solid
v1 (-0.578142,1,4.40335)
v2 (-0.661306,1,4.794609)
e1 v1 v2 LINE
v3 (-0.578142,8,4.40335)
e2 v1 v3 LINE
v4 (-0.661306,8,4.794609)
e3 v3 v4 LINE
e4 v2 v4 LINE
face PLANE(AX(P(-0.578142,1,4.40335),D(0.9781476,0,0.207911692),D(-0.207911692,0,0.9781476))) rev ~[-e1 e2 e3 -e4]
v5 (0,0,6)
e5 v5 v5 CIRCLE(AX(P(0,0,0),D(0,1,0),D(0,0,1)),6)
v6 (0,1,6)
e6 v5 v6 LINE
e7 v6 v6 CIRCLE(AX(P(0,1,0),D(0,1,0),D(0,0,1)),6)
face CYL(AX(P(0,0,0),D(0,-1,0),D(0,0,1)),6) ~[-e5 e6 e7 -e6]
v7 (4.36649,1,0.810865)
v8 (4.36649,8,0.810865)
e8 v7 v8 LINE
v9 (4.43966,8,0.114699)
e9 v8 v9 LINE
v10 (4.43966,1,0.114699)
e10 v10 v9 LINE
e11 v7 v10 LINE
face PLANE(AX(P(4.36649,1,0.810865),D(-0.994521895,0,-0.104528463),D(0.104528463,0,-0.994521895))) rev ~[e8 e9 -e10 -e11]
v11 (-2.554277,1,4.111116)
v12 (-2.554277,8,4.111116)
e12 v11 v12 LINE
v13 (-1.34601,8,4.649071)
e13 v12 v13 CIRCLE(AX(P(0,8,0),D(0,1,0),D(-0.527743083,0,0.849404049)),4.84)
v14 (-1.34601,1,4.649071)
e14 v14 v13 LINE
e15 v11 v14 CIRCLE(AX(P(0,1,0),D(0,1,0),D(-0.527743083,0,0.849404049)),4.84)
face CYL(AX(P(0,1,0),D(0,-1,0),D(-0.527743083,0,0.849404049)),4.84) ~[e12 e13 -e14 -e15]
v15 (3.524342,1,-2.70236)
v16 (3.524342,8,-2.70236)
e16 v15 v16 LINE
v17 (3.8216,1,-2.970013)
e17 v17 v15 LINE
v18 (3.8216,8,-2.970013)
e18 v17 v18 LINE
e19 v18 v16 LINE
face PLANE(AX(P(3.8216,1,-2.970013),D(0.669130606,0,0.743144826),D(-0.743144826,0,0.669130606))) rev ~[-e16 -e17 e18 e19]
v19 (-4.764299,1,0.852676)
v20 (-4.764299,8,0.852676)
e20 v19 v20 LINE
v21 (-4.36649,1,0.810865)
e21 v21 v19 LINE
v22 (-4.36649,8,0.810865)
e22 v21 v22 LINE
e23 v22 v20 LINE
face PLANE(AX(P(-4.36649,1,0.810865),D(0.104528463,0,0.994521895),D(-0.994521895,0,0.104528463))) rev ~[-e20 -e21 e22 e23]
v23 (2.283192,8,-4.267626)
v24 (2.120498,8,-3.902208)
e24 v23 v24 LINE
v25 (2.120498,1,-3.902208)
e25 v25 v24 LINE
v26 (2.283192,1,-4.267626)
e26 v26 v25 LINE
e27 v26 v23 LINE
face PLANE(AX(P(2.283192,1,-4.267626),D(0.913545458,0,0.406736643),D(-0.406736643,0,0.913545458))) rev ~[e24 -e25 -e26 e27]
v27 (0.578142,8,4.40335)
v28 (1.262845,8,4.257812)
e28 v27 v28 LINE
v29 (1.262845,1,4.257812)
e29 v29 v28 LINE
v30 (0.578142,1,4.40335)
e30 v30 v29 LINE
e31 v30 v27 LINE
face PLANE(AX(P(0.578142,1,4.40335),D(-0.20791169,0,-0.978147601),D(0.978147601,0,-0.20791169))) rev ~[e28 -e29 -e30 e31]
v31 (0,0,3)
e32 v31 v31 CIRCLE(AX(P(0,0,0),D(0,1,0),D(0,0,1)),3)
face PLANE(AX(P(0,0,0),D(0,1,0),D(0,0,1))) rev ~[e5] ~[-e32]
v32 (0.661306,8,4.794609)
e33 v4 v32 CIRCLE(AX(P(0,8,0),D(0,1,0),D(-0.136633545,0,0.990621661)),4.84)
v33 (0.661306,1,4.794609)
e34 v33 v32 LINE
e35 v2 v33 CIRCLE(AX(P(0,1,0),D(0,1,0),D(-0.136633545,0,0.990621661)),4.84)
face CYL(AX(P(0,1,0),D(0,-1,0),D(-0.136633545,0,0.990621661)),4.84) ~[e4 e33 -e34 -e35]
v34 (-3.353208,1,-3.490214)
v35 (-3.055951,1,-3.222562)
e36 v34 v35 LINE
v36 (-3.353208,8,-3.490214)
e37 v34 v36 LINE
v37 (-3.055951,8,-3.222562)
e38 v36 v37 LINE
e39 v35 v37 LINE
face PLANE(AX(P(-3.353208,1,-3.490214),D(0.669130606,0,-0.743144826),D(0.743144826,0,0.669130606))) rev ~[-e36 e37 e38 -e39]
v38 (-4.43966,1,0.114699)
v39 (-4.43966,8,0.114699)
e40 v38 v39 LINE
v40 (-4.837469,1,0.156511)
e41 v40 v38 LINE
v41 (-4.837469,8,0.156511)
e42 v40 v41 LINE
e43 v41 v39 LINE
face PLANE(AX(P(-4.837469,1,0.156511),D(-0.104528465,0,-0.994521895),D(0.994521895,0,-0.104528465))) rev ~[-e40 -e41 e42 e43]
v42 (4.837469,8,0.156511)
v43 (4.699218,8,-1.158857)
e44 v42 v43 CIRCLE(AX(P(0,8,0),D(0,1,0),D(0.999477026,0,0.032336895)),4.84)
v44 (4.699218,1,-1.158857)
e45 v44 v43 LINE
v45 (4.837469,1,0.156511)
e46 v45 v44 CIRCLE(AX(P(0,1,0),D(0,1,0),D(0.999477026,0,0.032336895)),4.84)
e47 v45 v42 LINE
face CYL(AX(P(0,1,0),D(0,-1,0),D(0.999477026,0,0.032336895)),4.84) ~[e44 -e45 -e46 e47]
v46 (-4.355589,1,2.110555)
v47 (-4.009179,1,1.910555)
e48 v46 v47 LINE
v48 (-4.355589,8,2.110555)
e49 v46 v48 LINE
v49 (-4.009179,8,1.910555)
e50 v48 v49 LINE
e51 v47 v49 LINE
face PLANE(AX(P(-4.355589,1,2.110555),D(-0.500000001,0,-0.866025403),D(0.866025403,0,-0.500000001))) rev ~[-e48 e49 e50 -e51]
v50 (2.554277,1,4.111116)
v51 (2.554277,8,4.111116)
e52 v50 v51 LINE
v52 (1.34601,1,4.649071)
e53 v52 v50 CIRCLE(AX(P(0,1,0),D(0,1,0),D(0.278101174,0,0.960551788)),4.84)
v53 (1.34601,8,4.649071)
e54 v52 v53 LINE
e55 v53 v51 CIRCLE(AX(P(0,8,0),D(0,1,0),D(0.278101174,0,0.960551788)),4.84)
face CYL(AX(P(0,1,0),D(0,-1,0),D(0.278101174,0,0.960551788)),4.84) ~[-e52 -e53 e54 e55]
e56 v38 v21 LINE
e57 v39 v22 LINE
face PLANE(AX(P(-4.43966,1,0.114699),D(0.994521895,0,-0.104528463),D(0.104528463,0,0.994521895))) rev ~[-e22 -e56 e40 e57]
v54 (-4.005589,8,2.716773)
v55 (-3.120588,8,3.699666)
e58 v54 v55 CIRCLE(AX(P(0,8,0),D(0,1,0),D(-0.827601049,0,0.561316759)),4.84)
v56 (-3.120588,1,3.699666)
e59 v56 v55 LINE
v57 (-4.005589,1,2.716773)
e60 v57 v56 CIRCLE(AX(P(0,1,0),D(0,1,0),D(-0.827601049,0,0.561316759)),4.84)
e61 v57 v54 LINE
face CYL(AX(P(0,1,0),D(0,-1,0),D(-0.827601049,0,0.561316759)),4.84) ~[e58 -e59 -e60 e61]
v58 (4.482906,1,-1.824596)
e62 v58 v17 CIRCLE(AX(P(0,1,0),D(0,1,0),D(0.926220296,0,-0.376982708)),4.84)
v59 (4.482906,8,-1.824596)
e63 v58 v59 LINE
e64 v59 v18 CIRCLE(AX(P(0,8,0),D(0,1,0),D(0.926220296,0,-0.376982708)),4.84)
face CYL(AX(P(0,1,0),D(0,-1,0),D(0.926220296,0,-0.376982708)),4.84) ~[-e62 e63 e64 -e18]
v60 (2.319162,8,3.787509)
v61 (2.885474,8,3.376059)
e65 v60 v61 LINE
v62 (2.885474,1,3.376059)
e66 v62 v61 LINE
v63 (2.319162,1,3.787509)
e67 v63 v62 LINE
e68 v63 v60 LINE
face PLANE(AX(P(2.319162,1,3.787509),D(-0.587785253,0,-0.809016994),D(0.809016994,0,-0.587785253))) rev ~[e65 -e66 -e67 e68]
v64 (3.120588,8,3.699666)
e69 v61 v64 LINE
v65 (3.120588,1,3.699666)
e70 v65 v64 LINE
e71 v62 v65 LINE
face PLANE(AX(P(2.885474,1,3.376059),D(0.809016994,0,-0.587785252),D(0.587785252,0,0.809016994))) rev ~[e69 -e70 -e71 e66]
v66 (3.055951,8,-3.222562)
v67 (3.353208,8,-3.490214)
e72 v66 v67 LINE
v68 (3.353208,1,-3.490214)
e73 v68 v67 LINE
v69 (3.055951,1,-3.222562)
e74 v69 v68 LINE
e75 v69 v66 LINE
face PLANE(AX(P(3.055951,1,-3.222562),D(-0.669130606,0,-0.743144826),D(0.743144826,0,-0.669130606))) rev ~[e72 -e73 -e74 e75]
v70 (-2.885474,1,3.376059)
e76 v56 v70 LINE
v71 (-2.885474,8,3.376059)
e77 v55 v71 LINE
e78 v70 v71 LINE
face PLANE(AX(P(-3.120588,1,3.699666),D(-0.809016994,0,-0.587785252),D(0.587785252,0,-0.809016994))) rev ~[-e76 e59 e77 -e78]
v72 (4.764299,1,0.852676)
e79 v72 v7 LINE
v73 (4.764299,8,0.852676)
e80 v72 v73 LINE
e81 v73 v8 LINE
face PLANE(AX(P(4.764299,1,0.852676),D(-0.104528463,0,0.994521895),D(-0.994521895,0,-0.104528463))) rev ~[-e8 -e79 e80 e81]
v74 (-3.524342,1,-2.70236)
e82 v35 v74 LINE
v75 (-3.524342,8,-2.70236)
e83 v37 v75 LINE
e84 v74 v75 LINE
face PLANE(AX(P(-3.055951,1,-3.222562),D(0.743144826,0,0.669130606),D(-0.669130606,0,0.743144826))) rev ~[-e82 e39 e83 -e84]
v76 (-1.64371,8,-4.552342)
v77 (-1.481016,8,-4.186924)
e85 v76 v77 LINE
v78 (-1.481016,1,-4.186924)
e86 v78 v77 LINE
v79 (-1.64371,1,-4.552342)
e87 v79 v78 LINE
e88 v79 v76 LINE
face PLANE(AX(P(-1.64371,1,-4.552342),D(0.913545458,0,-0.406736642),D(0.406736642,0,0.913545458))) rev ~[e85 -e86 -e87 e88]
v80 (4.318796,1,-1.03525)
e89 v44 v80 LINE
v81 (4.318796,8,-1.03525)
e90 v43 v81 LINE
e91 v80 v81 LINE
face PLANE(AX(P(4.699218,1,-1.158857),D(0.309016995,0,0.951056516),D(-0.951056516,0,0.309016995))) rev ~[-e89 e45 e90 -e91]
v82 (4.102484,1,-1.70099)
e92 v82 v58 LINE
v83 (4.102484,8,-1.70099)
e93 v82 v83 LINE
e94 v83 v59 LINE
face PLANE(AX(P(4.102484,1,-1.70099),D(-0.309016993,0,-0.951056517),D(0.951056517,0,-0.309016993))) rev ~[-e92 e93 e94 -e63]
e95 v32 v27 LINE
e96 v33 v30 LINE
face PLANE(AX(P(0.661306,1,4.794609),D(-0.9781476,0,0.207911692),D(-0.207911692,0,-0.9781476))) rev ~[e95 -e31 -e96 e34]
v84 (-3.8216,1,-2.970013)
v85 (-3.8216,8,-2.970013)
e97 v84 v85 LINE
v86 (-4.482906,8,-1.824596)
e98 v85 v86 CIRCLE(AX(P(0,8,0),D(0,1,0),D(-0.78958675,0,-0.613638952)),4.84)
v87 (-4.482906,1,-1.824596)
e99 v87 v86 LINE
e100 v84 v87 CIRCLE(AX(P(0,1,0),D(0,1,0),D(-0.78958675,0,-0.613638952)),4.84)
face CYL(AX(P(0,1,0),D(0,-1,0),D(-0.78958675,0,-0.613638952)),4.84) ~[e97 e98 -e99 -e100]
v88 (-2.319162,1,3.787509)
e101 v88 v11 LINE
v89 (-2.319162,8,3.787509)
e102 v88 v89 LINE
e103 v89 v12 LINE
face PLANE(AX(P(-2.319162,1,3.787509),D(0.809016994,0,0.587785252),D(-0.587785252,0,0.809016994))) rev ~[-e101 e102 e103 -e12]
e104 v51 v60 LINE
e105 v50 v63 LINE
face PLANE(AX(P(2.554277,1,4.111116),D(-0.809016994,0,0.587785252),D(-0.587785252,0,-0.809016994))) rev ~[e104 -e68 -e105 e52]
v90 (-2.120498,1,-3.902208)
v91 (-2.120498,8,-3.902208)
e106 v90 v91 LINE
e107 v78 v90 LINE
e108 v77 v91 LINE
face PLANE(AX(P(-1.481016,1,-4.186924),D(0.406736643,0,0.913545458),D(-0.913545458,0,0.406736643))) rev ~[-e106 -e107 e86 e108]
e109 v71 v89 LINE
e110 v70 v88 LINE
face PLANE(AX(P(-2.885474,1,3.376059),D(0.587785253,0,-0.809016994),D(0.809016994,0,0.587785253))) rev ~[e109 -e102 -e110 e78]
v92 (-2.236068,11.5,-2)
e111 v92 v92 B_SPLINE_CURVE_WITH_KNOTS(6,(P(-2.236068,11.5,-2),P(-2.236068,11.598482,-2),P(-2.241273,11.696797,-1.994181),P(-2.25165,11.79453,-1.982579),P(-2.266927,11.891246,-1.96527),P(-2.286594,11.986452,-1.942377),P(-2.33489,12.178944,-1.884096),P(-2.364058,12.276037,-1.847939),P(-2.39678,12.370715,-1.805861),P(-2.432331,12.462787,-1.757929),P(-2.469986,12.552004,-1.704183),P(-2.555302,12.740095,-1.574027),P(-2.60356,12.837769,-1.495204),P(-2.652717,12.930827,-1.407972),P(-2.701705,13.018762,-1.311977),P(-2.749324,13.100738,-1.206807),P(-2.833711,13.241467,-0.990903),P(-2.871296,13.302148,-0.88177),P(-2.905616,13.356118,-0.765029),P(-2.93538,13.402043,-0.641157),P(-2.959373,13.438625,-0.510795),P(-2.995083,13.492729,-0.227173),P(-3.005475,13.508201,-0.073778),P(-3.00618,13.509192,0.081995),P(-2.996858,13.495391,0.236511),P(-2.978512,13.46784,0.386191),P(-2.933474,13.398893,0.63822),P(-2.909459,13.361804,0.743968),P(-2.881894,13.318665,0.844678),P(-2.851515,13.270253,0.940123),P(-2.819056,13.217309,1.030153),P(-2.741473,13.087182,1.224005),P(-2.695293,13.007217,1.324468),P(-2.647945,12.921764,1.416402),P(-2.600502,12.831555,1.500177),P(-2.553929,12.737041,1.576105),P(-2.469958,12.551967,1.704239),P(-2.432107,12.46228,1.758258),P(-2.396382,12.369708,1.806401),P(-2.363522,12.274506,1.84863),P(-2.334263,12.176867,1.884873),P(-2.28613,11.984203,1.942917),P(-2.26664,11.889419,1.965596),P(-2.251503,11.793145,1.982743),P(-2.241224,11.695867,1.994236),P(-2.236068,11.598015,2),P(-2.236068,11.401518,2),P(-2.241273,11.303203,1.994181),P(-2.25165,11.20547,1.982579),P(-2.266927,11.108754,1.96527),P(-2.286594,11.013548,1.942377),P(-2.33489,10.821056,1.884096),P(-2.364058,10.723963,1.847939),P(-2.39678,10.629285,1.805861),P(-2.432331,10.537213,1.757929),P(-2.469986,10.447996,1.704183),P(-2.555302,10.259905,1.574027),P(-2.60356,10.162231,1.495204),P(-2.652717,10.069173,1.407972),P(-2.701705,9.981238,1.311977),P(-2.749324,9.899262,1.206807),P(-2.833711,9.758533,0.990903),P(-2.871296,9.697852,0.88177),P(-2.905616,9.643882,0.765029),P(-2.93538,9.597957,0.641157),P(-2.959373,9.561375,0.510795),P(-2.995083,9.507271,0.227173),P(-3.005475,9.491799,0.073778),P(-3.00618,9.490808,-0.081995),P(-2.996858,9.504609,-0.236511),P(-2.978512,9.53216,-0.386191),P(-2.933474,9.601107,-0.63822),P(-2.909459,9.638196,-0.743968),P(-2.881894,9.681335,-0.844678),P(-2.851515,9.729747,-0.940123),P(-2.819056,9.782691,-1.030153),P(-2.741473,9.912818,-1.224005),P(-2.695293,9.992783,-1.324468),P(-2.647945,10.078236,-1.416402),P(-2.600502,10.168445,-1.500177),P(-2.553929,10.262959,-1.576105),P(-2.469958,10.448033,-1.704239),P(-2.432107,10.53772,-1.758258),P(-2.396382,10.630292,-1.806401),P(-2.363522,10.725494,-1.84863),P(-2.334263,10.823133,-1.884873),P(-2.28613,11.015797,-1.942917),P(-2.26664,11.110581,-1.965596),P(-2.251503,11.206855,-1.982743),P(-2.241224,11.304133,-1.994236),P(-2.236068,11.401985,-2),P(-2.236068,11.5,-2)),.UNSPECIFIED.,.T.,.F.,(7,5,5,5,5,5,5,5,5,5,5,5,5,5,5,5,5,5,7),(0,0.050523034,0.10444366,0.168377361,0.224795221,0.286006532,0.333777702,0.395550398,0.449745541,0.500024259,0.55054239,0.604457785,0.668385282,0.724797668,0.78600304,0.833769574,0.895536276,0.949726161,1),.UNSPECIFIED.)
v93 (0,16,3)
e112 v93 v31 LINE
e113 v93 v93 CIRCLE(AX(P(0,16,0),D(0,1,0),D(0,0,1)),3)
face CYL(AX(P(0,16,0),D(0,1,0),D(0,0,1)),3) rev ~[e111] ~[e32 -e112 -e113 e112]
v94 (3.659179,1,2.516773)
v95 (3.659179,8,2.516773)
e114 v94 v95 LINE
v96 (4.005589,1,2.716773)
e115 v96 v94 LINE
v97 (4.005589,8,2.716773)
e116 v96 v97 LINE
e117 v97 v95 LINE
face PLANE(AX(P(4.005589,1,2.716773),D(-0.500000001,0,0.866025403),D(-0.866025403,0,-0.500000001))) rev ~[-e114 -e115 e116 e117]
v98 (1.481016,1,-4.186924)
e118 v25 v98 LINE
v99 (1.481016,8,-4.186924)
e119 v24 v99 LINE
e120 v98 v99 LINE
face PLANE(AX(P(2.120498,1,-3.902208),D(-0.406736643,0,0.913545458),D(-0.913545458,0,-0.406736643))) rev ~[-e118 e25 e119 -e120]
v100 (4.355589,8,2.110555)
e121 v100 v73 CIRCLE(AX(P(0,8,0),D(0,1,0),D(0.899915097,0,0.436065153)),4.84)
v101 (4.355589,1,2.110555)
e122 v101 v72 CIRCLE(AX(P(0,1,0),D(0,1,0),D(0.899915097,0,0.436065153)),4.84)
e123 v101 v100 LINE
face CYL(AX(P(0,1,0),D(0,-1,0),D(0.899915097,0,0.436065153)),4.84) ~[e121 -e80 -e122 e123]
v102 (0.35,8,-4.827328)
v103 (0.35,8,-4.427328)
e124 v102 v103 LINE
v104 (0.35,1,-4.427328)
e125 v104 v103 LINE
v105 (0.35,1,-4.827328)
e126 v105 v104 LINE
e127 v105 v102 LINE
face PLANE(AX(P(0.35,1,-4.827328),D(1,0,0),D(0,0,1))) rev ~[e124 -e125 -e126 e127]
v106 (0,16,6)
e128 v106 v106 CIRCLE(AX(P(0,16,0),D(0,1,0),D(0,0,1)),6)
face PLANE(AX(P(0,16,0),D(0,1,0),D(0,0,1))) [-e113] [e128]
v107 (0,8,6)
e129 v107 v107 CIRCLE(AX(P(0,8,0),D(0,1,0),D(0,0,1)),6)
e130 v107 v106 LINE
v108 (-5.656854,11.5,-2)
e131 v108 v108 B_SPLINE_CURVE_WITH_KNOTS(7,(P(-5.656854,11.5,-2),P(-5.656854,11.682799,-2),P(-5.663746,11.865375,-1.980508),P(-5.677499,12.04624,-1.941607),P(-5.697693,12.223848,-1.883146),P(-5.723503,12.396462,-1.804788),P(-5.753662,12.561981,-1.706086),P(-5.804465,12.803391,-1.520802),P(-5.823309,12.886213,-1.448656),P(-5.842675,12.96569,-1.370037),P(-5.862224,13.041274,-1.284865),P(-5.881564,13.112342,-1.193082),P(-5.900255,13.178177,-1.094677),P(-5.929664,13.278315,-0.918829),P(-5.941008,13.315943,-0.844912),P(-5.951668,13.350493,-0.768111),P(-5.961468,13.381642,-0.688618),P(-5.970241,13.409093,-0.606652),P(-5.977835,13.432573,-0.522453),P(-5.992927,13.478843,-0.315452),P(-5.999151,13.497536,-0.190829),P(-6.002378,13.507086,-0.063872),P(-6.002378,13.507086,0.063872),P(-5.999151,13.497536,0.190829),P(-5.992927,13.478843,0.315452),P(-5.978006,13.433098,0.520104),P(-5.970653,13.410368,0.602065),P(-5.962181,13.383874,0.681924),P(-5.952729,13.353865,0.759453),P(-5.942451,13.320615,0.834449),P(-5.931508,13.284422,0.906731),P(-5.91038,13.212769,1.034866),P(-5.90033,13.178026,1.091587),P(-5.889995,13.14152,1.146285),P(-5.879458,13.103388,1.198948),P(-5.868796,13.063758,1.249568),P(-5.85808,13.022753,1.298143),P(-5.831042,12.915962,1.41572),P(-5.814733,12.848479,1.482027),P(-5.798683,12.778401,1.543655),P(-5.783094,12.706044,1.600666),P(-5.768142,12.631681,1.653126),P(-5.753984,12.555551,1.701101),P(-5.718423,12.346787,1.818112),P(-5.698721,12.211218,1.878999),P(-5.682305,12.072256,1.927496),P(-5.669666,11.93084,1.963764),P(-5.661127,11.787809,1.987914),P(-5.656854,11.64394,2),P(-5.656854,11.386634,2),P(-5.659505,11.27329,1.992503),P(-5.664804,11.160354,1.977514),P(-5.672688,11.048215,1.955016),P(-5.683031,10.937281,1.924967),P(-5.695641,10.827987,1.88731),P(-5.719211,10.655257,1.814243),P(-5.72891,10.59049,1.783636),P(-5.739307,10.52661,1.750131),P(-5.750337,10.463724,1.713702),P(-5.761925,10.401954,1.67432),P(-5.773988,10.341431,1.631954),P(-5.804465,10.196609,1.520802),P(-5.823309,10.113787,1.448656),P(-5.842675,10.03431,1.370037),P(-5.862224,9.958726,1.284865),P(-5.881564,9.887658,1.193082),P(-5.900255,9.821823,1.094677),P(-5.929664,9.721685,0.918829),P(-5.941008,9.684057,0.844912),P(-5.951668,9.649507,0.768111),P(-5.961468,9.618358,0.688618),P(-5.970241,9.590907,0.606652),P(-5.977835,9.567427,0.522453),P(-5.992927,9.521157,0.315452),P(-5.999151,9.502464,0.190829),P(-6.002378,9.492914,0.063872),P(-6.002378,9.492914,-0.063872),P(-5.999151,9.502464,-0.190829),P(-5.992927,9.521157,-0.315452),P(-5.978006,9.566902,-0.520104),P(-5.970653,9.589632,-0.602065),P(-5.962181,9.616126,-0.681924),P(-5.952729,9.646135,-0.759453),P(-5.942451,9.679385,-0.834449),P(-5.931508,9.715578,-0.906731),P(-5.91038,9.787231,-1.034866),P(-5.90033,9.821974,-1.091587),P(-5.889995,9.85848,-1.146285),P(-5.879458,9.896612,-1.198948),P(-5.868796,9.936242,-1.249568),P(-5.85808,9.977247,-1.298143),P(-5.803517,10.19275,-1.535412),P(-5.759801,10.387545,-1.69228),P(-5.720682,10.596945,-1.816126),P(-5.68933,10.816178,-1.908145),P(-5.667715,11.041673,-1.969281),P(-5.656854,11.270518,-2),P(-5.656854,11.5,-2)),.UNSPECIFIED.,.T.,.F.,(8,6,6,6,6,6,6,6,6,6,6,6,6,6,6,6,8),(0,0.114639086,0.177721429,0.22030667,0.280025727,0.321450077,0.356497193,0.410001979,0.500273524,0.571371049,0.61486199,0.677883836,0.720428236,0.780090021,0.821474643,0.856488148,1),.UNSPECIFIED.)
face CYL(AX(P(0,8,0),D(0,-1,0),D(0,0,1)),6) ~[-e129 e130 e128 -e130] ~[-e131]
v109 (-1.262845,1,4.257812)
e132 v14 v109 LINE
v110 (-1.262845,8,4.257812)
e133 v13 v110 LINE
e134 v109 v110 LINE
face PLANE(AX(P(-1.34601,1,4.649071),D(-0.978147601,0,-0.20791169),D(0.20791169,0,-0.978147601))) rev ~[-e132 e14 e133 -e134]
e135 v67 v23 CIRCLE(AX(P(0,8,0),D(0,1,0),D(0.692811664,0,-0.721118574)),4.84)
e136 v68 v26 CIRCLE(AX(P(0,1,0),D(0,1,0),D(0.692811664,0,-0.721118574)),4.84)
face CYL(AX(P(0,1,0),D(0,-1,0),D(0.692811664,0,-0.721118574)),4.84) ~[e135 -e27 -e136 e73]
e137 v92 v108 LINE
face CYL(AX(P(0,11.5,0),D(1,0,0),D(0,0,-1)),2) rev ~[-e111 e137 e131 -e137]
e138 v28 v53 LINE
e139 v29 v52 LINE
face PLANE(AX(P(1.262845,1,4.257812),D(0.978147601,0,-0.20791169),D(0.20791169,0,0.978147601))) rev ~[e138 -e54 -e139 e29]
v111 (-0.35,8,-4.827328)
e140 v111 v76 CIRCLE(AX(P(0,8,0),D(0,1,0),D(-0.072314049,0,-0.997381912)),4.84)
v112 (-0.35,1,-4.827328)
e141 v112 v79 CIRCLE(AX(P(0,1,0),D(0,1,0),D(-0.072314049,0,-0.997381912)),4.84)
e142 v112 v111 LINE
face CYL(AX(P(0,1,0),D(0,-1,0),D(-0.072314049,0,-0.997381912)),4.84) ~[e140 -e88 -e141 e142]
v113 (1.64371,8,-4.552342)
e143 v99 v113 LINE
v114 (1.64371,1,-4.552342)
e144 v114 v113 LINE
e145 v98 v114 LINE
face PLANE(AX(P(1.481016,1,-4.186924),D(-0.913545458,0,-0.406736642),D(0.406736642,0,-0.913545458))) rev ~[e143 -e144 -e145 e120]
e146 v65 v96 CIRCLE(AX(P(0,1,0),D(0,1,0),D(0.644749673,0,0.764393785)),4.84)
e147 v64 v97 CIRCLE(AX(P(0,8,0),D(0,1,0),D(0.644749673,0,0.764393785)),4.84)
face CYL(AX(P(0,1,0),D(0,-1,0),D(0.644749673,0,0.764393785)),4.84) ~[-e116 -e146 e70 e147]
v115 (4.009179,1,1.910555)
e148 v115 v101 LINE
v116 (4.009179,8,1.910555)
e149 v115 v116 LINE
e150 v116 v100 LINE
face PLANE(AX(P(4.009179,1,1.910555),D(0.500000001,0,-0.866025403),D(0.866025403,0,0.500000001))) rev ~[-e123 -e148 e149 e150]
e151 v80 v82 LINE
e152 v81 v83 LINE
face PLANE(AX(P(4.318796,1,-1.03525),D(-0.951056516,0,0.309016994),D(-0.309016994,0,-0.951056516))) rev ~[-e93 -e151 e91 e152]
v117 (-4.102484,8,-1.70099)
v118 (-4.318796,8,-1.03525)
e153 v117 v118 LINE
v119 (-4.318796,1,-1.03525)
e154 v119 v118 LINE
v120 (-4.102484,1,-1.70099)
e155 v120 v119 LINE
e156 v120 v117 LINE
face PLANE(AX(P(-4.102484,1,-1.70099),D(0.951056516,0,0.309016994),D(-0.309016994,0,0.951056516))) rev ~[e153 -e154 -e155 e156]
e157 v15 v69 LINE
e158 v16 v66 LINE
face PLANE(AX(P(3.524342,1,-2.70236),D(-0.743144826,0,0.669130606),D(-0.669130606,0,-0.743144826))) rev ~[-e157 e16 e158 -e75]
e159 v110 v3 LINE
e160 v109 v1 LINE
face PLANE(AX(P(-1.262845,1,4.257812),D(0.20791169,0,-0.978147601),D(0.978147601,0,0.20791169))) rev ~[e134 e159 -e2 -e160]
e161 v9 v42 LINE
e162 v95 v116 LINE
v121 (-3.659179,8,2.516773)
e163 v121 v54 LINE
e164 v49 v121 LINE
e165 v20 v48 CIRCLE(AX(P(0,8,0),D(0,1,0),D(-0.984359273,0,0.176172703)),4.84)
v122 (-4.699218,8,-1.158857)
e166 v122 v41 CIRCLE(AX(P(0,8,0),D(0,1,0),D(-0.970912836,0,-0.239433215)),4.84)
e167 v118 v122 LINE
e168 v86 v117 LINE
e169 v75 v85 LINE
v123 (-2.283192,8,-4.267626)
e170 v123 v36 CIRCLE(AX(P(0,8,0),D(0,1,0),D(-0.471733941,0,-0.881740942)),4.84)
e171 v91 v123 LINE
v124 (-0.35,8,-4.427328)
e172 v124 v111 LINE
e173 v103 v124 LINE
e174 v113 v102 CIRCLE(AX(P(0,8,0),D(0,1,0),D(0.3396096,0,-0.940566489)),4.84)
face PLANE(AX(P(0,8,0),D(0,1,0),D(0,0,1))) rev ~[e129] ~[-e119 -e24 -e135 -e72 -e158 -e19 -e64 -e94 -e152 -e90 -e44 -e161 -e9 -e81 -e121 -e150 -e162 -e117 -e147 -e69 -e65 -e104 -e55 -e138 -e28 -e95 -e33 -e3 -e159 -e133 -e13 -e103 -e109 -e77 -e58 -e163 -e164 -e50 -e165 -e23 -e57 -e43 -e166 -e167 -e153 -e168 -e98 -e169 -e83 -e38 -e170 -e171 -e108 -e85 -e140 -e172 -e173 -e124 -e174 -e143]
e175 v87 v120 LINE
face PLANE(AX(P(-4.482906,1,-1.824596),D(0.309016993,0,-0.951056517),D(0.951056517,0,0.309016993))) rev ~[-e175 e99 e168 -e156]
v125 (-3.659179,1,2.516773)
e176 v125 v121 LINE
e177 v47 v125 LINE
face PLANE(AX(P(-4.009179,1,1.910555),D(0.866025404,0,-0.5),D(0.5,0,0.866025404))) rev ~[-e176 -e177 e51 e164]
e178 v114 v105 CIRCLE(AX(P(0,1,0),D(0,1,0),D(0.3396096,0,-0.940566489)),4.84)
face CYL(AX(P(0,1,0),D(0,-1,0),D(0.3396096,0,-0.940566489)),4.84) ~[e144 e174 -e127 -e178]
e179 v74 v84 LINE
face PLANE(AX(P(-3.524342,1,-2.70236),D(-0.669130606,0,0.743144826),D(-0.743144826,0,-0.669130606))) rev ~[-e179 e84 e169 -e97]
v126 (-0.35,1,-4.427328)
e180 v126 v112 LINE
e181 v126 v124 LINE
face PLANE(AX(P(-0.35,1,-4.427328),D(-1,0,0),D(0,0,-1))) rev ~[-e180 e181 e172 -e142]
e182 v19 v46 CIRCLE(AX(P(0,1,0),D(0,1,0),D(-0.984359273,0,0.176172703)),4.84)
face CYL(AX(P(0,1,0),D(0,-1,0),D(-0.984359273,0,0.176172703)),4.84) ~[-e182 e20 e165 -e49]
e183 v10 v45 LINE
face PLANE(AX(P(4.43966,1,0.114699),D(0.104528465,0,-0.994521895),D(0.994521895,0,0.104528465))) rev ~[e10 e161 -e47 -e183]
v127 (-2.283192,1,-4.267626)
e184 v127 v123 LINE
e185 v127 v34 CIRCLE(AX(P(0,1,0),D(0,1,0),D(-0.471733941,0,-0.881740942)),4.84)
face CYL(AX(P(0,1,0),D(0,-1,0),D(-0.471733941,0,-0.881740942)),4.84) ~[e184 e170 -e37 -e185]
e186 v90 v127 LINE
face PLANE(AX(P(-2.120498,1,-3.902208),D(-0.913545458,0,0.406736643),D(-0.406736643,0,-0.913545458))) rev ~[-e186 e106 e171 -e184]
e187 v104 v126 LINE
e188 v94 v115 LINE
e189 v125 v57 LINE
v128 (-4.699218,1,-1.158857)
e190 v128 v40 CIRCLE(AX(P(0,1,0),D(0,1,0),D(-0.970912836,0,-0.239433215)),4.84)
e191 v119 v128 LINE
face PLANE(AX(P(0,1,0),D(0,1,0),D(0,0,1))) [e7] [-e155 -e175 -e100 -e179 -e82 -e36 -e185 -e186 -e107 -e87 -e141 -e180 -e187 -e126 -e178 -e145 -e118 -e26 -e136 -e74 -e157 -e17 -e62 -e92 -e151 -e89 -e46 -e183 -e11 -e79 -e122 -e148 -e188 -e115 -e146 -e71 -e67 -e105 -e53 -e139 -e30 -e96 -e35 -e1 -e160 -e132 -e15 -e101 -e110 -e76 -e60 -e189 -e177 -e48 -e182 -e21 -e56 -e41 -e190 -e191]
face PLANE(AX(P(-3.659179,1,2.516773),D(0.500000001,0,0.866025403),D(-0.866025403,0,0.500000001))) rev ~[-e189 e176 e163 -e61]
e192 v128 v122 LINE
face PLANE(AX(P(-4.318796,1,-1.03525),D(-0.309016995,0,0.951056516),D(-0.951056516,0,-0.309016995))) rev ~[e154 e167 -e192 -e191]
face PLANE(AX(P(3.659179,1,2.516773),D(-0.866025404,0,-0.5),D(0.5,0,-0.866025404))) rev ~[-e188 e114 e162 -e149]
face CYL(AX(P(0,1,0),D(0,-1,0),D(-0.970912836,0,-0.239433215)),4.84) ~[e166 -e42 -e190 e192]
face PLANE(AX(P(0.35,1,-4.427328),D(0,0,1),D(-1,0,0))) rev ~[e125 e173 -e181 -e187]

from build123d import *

# Parameters (mm, degrees)
SKETCH_1_R               = 6
EXTRUDE_1_DEPTH          = 1
EXTRUDE_2_DEPTH          = 7
SKETCH_3_R               = 6
EXTRUDE_3_DEPTH          = 8
CUT_EXTRUDE_1_REACH      = 20.111
SKETCH_4_R               = 3
CUT_EXTRUDE_2_REACH      = 20.111
CUT_EXTRUDE_2_END_RADIUS = 6
SKETCH_5_R               = 2


with BuildPart() as part:
    # 草图1 → 凸台-拉伸1 (new body)
    with BuildSketch(Plane(origin=(0, 0, 0), x_dir=(1, 0, 0), z_dir=(0, 1, 0))):
        with Locations(Location((0, 0, 0), (0, 0, 270))):
            Circle(SKETCH_1_R)
    extrude(amount=EXTRUDE_1_DEPTH)

    # 草图2 → 凸台-拉伸2 (add)
    with BuildSketch(Plane(origin=(0, 1, 0), x_dir=(1, 0, 0), z_dir=(0, 1, 0))):
        with BuildLine():
            Line((-0.35, 4.427328454), (-0.35, 4.827328454))
            ThreePointArc((-0.35, 4.827328454), (-1.006292584, 4.734234388), (-1.64371046, 4.552341807))
            Line((-1.64371046, 4.552341807), (-1.481015803, 4.186923623))
            Line((-1.481015803, 4.186923623), (-2.120497623, 3.902207973))
            Line((-2.120497623, 3.902207973), (-2.28319228, 4.267626156))
            ThreePointArc((-2.28319228, 4.267626156), (-2.844880621, 3.915642253), (-3.353208449, 3.490213904))
            Line((-3.353208449, 3.490213904), (-3.055950519, 3.222561662))
            Line((-3.055950519, 3.222561662), (-3.524341943, 2.702360284))
            Line((-3.524341943, 2.702360284), (-3.821599873, 2.970012526))
            ThreePointArc((-3.821599873, 2.970012526), (-4.191562954, 2.42), (-4.482906234, 1.82459631))
            Line((-4.482906234, 1.82459631), (-4.102483628, 1.700989513))
            Line((-4.102483628, 1.700989513), (-4.318795524, 1.035249951))
            Line((-4.318795524, 1.035249951), (-4.69921813, 1.158856749))
            ThreePointArc((-4.69921813, 1.158856749), (-4.813485974, 0.505917762), (-4.837468805, -0.156510562))
            Line((-4.837468805, -0.156510562), (-4.439660047, -0.114699176))
            Line((-4.439660047, -0.114699176), (-4.366490123, -0.810864503))
            Line((-4.366490123, -0.810864503), (-4.764298881, -0.852675888))
            ThreePointArc((-4.764298881, -0.852675888), (-4.603113539, -1.495642253), (-4.355589073, -2.110555336))
            Line((-4.355589073, -2.110555336), (-4.009178912, -1.910555336))
            Line((-4.009178912, -1.910555336), (-3.659178912, -2.516773118))
            Line((-3.659178912, -2.516773118), (-4.005589073, -2.716773118))
            ThreePointArc((-4.005589073, -2.716773118), (-3.596820955, -3.238592135), (-3.120588421, -3.699665918))
            Line((-3.120588421, -3.699665918), (-2.88547432, -3.37605912))
            Line((-2.88547432, -3.37605912), (-2.319162424, -3.787508797))
            Line((-2.319162424, -3.787508797), (-2.554276525, -4.111115595))
            ThreePointArc((-2.554276525, -4.111115595), (-1.968605352, -4.421560015), (-1.346009681, -4.649070653))
            Line((-1.346009681, -4.649070653), (-1.262845005, -4.257811613))
            Line((-1.262845005, -4.257811613), (-0.578141684, -4.403349796))
            Line((-0.578141684, -4.403349796), (-0.661306361, -4.794608837))
            ThreePointArc((-0.661306361, -4.794608837), (0, -4.84), (0.661306361, -4.794608837))
            Line((0.661306361, -4.794608837), (0.578141684, -4.403349796))
            Line((0.578141684, -4.403349796), (1.262845005, -4.257811613))
            Line((1.262845005, -4.257811613), (1.346009681, -4.649070653))
            ThreePointArc((1.346009681, -4.649070653), (1.968605352, -4.421560015), (2.554276525, -4.111115595))
            Line((2.554276525, -4.111115595), (2.319162424, -3.787508797))
            Line((2.319162424, -3.787508797), (2.88547432, -3.37605912))
            Line((2.88547432, -3.37605912), (3.120588421, -3.699665918))
            ThreePointArc((3.120588421, -3.699665918), (3.596820955, -3.238592135), (4.005589073, -2.716773118))
            Line((4.005589073, -2.716773118), (3.659178912, -2.516773118))
            Line((3.659178912, -2.516773118), (4.009178912, -1.910555336))
            Line((4.009178912, -1.910555336), (4.355589073, -2.110555336))
            ThreePointArc((4.355589073, -2.110555336), (4.603113539, -1.495642253), (4.764298881, -0.852675888))
            Line((4.764298881, -0.852675888), (4.366490123, -0.810864503))
            Line((4.366490123, -0.810864503), (4.439660047, -0.114699176))
            Line((4.439660047, -0.114699176), (4.837468805, -0.156510562))
            ThreePointArc((4.837468805, -0.156510562), (4.813485974, 0.505917762), (4.69921813, 1.158856749))
            Line((4.69921813, 1.158856749), (4.318795524, 1.035249951))
            Line((4.318795524, 1.035249951), (4.102483628, 1.700989513))
            Line((4.102483628, 1.700989513), (4.482906234, 1.82459631))
            ThreePointArc((4.482906234, 1.82459631), (4.191562954, 2.42), (3.821599873, 2.970012526))
            Line((3.821599873, 2.970012526), (3.524341943, 2.702360284))
            Line((3.524341943, 2.702360284), (3.055950519, 3.222561662))
            Line((3.055950519, 3.222561662), (3.353208449, 3.490213904))
            ThreePointArc((3.353208449, 3.490213904), (2.844880621, 3.915642253), (2.28319228, 4.267626156))
            Line((2.28319228, 4.267626156), (2.120497623, 3.902207973))
            Line((2.120497623, 3.902207973), (1.481015803, 4.186923623))
            Line((1.481015803, 4.186923623), (1.64371046, 4.552341807))
            ThreePointArc((1.64371046, 4.552341807), (1.006292584, 4.734234388), (0.35, 4.827328454))
            Line((0.35, 4.827328454), (0.35, 4.427328454))
            Line((0.35, 4.427328454), (-0.35, 4.427328454))
        make_face()
    extrude(amount=EXTRUDE_2_DEPTH)

    # 草图3 → 凸台-拉伸3 (add)
    with BuildSketch(Plane(origin=(0, 8, 0), x_dir=(1, 0, 0), z_dir=(0, 1, 0))):
        with Locations(Location((0, 0, 0), (0, 0, 270))):
            Circle(SKETCH_3_R)
    extrude(amount=EXTRUDE_3_DEPTH)

    # 草图4 → 切除-拉伸1 (cut, up to next)
    with BuildSketch(Plane(origin=(0, 16, 0), x_dir=(1, 0, 0), z_dir=(0, 1, 0)), mode=Mode.PRIVATE) as cut_extrude_1_sk1:
        with Locations(Location((0, 0, 0), (0, 0, 270))):
            Circle(SKETCH_4_R)
    cut_extrude_1_tool1 = extrude(cut_extrude_1_sk1.sketch, amount=-CUT_EXTRUDE_1_REACH, mode=Mode.PRIVATE) & part.part
    add(cut_extrude_1_tool1.solids().sort_by_distance((0, 16, 0))[0], mode=Mode.SUBTRACT)

    # 切除-拉伸2: up to this cylinder (the profile starts inside it)
    cut_extrude_2_end = Plane(origin=(0, 11.5, 0), z_dir=(0, -1, 0)) * Cylinder(CUT_EXTRUDE_2_END_RADIUS, 53.222, mode=Mode.PRIVATE)
    # 草图5 → 切除-拉伸2 (cut, up to the surface)
    with BuildSketch(Plane(origin=(0, 0, 0), x_dir=(0, 0, -1), z_dir=(1, 0, 0)), mode=Mode.PRIVATE) as cut_extrude_2_sk1:
        with Locations((0, 11.5)):
            Circle(SKETCH_5_R)
    cut_extrude_2_tool1 = extrude(cut_extrude_2_sk1.sketch, amount=-CUT_EXTRUDE_2_REACH, mode=Mode.PRIVATE) & cut_extrude_2_end
    add(cut_extrude_2_tool1.solids().sort_by_distance((0, 11.5, 0))[0], mode=Mode.SUBTRACT)


solid = part.part
